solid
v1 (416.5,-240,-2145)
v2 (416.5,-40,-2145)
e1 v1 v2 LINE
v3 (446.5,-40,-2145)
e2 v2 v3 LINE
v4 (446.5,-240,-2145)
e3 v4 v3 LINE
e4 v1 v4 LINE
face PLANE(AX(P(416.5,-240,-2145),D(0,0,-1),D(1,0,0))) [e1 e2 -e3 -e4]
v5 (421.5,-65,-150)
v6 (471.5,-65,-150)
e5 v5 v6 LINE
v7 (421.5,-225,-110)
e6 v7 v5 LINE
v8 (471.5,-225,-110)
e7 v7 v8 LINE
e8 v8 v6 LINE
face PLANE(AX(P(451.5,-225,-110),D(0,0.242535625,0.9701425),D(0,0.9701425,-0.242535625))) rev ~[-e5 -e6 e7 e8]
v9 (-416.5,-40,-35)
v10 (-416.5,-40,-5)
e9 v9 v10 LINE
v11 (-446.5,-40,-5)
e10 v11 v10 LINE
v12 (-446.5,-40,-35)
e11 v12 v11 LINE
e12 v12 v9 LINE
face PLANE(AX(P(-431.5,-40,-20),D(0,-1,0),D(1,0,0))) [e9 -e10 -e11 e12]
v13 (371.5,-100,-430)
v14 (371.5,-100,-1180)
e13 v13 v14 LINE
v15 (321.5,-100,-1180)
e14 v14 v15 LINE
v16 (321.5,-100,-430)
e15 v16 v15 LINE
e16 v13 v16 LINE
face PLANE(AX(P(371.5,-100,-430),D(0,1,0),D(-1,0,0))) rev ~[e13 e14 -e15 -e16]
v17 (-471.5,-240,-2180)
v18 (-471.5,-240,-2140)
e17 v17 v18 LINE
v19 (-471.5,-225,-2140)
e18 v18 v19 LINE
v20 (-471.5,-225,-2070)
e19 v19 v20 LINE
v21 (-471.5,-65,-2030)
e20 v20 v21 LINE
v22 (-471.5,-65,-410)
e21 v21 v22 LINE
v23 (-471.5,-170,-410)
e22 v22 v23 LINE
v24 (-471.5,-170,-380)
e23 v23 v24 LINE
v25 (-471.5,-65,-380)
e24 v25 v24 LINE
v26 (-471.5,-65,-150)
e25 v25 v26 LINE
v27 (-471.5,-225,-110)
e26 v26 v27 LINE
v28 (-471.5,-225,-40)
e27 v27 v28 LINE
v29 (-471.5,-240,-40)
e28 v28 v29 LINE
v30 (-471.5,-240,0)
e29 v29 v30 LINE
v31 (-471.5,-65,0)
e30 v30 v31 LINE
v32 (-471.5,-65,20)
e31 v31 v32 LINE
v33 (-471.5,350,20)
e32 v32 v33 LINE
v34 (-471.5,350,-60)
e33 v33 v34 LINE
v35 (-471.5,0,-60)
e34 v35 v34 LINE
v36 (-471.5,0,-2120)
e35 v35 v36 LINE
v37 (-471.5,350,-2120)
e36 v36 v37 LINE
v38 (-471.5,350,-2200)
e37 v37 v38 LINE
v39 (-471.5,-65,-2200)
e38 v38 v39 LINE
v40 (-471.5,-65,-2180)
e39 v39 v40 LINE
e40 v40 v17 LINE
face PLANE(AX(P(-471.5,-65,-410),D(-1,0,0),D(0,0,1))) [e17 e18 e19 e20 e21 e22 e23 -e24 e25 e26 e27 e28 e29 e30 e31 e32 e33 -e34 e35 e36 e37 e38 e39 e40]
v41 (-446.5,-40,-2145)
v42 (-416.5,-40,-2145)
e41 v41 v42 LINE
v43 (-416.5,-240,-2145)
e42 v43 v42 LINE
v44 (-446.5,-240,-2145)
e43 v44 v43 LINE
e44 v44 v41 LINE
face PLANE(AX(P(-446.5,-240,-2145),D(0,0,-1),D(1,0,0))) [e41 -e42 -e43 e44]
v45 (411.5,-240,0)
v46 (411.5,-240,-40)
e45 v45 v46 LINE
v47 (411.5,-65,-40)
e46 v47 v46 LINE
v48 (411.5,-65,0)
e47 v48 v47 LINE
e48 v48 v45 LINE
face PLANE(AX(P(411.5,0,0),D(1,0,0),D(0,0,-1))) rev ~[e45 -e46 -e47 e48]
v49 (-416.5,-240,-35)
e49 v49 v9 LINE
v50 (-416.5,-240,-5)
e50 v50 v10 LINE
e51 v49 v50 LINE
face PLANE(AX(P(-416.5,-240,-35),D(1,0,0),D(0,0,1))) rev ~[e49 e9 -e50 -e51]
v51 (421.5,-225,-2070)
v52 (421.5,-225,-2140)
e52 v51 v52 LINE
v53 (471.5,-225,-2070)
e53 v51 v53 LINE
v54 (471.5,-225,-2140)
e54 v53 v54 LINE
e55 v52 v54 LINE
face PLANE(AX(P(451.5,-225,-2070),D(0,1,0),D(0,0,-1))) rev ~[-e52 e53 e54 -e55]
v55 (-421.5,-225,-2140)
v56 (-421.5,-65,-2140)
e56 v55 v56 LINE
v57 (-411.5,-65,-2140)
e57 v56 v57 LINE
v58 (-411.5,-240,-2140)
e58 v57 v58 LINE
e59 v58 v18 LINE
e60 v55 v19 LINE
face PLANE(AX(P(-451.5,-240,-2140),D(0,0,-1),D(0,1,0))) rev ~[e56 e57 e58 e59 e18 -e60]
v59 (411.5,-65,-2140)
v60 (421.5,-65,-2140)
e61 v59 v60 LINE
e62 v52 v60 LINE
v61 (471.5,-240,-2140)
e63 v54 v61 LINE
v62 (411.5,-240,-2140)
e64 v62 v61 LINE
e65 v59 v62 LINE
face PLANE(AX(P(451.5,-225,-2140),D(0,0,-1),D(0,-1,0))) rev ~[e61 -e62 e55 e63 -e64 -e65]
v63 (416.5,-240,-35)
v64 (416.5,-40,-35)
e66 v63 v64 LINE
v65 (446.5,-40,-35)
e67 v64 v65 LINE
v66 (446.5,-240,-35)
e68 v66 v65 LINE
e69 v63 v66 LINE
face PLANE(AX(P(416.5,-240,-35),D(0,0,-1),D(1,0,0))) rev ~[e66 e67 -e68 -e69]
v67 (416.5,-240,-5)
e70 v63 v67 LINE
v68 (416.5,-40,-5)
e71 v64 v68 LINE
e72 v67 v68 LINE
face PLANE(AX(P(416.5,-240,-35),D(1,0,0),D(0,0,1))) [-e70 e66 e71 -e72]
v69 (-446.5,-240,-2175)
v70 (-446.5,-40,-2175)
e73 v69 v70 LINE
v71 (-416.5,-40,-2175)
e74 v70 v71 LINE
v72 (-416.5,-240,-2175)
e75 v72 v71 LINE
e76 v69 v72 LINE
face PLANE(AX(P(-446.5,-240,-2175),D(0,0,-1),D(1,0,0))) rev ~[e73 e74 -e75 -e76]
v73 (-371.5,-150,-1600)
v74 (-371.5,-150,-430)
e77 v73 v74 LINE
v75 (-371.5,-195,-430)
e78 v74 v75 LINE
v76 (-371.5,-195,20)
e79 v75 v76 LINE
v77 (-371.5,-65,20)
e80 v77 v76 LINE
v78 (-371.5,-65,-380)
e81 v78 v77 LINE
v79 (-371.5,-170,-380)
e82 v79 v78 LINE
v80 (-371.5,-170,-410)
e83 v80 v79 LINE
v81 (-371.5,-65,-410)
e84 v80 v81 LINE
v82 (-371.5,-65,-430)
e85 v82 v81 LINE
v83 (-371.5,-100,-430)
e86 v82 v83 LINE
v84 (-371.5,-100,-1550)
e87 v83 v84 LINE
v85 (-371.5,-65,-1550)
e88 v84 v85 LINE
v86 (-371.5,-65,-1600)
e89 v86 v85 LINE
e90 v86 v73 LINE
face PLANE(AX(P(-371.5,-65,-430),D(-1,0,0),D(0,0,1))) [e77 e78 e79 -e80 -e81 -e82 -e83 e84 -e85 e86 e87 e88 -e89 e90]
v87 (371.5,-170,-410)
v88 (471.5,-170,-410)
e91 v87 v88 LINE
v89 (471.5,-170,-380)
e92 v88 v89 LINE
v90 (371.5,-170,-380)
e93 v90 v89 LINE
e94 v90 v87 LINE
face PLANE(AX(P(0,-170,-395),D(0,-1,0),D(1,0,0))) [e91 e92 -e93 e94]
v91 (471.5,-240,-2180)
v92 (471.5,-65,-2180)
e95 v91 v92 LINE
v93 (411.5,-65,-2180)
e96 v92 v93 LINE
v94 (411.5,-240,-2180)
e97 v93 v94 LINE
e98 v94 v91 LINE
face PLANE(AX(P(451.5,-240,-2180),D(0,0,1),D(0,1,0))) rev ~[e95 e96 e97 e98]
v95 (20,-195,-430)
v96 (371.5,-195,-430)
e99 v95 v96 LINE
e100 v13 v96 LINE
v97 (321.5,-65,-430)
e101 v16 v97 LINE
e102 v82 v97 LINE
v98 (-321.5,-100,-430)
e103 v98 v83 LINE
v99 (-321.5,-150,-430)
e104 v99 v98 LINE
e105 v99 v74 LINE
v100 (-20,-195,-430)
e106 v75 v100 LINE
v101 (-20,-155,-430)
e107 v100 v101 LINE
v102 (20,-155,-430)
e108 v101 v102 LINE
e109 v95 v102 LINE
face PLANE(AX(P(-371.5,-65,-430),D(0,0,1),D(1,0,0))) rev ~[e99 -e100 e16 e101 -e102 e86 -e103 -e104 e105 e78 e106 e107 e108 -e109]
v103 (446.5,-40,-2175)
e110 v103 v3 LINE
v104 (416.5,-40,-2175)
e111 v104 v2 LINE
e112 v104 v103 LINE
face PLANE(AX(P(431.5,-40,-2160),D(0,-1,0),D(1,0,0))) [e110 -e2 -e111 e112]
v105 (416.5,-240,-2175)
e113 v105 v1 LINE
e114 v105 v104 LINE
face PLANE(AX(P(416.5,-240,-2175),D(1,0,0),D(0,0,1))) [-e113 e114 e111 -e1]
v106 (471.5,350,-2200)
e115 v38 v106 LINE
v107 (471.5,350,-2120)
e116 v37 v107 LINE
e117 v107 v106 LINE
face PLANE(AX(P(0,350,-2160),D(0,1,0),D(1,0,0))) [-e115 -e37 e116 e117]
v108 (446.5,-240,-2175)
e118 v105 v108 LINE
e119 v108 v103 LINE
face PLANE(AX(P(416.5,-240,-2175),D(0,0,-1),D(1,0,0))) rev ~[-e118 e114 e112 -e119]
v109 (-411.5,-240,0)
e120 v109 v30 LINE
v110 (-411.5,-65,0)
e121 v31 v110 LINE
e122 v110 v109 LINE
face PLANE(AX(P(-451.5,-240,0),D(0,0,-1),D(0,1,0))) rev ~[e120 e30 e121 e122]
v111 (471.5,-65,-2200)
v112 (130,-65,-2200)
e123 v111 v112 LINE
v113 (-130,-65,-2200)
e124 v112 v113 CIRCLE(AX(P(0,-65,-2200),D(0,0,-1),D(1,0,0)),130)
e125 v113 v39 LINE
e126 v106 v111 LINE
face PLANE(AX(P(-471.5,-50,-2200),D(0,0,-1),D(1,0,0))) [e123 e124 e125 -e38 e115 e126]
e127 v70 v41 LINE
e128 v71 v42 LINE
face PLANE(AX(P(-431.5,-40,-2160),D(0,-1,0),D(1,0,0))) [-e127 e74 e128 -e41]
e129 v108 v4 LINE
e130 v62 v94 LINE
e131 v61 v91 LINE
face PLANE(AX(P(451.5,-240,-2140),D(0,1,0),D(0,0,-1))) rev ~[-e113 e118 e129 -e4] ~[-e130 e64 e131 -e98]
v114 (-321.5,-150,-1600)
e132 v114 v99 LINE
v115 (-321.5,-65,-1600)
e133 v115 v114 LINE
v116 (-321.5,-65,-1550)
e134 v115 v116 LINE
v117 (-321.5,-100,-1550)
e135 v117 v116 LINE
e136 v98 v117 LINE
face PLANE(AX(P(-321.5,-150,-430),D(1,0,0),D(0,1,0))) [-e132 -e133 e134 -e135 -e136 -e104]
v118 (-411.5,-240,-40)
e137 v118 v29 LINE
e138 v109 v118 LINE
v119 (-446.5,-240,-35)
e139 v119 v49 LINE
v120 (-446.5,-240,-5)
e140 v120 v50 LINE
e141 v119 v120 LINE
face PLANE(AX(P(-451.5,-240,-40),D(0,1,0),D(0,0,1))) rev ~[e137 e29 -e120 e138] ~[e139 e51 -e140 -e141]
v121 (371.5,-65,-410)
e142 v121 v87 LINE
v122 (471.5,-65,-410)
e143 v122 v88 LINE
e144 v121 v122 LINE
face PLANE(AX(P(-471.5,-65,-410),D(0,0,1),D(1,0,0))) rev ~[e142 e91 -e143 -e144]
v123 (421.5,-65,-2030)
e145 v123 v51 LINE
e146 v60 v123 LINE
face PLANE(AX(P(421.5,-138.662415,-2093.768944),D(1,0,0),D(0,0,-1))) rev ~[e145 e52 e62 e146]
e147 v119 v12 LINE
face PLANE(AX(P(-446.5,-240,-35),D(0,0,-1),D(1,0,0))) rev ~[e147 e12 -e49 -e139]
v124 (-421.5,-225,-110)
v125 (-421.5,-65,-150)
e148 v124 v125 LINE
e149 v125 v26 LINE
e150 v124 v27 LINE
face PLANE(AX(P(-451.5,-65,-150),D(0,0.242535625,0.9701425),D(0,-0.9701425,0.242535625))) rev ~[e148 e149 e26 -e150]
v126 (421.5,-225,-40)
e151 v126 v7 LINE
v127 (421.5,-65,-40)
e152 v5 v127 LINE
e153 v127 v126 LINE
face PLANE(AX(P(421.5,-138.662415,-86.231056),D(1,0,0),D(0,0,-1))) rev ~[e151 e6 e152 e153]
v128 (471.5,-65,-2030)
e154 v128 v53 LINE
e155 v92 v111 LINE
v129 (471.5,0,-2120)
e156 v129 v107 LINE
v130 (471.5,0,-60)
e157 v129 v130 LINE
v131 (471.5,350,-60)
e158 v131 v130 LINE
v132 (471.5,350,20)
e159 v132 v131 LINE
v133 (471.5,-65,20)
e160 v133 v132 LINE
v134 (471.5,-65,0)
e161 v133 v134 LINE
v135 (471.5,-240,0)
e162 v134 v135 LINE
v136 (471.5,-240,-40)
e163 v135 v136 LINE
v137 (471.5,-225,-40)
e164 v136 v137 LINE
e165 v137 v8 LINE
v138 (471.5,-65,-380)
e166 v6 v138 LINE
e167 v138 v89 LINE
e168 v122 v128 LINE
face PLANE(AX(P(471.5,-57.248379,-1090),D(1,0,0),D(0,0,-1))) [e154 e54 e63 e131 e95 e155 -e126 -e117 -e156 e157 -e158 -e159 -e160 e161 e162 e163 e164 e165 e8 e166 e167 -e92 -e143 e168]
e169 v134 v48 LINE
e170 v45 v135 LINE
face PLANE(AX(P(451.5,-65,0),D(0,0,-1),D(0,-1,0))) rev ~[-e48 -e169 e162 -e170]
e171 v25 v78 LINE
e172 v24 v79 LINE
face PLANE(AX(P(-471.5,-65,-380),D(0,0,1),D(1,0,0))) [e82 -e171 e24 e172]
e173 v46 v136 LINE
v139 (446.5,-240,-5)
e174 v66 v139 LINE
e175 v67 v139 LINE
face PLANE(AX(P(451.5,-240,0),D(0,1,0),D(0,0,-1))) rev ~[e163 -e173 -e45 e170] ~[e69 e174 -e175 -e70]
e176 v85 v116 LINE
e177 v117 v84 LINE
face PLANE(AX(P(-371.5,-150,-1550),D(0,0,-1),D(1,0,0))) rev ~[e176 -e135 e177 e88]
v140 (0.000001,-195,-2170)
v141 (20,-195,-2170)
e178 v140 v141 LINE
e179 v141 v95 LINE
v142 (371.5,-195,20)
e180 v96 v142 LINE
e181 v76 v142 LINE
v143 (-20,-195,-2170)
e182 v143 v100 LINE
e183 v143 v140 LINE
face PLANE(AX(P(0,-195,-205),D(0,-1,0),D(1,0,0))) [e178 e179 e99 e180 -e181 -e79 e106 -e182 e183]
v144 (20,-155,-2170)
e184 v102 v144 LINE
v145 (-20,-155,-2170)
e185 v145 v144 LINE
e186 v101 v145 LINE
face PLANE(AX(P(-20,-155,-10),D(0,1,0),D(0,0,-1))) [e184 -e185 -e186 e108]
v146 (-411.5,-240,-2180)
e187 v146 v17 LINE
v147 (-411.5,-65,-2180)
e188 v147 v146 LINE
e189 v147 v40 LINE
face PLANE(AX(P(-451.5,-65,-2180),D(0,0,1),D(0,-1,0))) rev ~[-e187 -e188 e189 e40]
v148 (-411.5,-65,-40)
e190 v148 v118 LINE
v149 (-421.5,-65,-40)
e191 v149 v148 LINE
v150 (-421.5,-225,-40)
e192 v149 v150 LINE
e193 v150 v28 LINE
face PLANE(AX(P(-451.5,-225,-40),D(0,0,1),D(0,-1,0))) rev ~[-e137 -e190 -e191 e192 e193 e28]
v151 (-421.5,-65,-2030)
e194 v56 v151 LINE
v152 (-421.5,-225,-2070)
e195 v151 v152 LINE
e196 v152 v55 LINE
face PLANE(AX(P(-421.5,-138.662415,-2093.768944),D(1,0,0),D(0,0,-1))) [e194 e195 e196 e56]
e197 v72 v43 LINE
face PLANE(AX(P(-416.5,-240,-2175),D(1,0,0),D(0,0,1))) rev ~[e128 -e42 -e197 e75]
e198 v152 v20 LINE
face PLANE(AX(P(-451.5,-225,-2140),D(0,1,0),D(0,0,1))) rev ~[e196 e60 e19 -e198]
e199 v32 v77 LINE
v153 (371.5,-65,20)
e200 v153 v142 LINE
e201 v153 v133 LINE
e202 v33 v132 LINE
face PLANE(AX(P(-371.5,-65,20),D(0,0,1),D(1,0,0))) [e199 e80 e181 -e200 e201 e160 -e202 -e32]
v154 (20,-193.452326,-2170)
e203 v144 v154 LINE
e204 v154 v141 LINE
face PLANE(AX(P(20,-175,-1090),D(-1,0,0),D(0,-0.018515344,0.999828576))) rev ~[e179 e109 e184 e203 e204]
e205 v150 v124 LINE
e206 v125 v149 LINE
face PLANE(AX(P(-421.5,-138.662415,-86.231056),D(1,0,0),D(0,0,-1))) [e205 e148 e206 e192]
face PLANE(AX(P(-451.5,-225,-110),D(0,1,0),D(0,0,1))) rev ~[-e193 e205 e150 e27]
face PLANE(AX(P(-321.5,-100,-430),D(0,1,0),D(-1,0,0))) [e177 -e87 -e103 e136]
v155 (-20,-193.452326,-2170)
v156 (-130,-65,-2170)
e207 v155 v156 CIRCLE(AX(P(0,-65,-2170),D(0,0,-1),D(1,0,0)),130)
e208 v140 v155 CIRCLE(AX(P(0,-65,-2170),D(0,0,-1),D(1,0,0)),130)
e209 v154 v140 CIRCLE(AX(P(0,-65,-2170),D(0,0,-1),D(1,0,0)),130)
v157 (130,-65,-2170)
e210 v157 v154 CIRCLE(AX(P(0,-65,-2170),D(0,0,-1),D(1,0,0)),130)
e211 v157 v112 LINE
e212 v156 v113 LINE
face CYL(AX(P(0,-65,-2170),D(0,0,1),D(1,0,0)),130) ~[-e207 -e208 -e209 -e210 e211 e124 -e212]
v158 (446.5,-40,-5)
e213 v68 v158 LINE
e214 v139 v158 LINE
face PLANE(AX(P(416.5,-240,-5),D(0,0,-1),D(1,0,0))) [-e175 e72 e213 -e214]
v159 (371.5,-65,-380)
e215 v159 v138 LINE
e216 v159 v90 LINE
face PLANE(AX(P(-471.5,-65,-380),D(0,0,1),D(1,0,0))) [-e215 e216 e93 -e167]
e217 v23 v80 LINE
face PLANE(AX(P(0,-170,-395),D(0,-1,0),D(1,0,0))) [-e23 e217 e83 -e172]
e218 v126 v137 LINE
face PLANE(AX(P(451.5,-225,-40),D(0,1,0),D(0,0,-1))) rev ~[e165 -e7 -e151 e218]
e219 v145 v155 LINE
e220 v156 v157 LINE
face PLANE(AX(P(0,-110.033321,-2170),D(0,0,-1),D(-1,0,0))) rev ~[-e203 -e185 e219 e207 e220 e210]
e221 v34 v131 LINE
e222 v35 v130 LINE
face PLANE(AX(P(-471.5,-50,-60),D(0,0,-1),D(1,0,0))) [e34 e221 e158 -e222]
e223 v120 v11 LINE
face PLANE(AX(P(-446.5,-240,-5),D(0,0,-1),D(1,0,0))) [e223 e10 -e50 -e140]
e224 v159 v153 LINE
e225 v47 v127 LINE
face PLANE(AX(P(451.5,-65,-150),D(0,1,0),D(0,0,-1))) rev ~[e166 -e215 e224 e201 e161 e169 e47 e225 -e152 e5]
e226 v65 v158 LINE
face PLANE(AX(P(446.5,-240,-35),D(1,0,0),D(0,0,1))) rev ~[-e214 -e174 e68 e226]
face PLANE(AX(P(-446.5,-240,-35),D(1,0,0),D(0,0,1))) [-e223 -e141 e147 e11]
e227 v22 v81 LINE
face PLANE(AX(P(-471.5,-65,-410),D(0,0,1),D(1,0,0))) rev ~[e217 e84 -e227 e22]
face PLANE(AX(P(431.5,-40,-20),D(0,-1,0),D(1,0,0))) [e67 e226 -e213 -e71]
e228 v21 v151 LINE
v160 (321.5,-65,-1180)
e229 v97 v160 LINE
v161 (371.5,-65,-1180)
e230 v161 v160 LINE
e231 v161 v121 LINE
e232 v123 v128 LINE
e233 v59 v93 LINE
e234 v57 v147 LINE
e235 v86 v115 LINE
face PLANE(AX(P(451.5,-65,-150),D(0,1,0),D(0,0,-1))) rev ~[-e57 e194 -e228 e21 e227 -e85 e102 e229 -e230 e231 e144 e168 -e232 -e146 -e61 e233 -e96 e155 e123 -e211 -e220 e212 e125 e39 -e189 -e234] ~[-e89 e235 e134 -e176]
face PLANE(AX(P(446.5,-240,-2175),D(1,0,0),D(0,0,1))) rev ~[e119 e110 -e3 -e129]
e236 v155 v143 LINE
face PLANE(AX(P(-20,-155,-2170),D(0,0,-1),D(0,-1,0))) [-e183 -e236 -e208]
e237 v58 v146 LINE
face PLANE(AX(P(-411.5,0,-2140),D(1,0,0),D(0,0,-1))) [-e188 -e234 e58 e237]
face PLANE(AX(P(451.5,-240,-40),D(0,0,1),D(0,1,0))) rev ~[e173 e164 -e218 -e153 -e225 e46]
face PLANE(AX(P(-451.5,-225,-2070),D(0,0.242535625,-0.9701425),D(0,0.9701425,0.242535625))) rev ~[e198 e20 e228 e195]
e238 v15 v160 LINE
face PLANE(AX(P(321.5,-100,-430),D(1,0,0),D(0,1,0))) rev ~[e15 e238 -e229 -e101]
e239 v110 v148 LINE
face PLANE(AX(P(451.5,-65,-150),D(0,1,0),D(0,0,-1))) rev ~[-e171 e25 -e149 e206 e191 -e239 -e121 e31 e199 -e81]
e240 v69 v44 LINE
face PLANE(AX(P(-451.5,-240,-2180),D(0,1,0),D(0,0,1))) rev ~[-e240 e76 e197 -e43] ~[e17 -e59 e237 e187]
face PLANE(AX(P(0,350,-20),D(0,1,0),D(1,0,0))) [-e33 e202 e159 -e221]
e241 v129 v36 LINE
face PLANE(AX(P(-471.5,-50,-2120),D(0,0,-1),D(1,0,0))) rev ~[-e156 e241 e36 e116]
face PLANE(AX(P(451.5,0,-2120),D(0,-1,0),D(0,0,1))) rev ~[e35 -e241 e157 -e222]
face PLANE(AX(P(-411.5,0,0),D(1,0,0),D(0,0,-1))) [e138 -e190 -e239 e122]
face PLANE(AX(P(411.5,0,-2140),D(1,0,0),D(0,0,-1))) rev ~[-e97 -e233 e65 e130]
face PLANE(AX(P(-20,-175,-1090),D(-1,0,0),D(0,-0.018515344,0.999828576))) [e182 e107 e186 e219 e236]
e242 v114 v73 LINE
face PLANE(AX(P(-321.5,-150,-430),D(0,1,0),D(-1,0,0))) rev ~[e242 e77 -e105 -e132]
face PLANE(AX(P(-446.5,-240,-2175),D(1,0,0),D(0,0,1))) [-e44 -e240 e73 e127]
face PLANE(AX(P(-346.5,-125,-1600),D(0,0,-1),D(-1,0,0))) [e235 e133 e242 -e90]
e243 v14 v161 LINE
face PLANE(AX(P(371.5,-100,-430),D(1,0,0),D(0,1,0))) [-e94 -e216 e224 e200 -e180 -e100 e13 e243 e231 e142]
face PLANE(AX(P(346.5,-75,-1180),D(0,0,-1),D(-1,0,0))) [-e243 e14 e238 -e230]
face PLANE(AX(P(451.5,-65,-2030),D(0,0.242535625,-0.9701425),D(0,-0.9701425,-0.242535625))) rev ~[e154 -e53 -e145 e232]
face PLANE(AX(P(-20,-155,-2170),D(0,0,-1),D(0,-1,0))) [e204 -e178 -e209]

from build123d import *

# Parameters (mm, degrees)
SKETCH1_W                = 40
SKETCH1_H                = 40
SKETCH1_H_2              = 10
SKETCH1_W_2              = 903
SKETCH1_H_3              = 2060
BOSS_EXTRUDE1_DEPTH      = 65
BOSS_EXTRUDE2_DEPTH      = 350
BOSS_EXTRUDE2_DEPTH_BACK = 50
SKETCH1_3_W              = 943
SKETCH1_3_H              = 80
SKETCH1_4_W              = 40
SKETCH1_4_H              = 40
BOSS_EXTRUDE3_DEPTH      = 240
BOSS_EXTRUDE4_DEPTH      = 30
BOSS_EXTRUDE5_DEPTH      = 30
SKETCH5_W                = 30
SKETCH5_H                = 30
CUT_EXTRUDE1_DEPTH       = 200
BOSS_EXTRUDE6_DEPTH      = 30
BOSS_EXTRUDE7_START      = -30
BOSS_EXTRUDE7_DEPTH      = 30
BOSS_EXTRUDE8_DEPTH      = 20
BOSS_EXTRUDE8_DEPTH_BACK = 20
SKETCH8_W                = 743
SKETCH8_H                = 450
BOSS_EXTRUDE9_DEPTH      = 130
SKETCH9_W                = 50
SKETCH9_H                = 50
BOSS_EXTRUDE11_DEPTH     = 750
SKETCH9_3_W              = 50
SKETCH9_3_H              = 50
BOSS_EXTRUDE12_DEPTH     = 1170
SKETCH10_W               = 50
SKETCH10_H               = 50
BOSS_EXTRUDE13_DEPTH     = 85
BOSS_EXTRUDE14_DEPTH     = 20
BOSS_EXTRUDE15_DEPTH     = 20
SKETCH14_W               = 943
SKETCH14_H               = 30
BOSS_EXTRUDE16_DEPTH     = 105


with BuildPart() as part:
    # Sketch1 → Boss-Extrude1 (new body)
    with BuildSketch(Plane(origin=(0, 0, 0), x_dir=(1, 0, 0), z_dir=(0, 1, 0))):
        with Locations((-431.5, 20)):
            Rectangle(SKETCH1_W, SKETCH1_H)
        Polygon((-411.5, 50), (-411.5, 40), (-411.5, 0), (411.5, 0), (411.5, 40), (411.5, 50), align=None)
        with Locations((-431.5, 45)):
            Rectangle(SKETCH1_W, SKETCH1_H_2)
        Polygon((-451.5, 0), (-451.5, 40), (-451.5, 50), (-451.5, 60), (-471.5, 60), (-471.5, -20), (471.5, -20), (471.5, 60), (451.5, 60), (451.5, 50), (451.5, 40), (451.5, 0), (411.5, 0), (-411.5, 0), align=None)
        Polygon((-451.5, 50), (-411.5, 50), (411.5, 50), (451.5, 50), (451.5, 60), (-451.5, 60), align=None)
        with Locations((431.5, 20)):
            Rectangle(SKETCH1_W, SKETCH1_H)
        with Locations((431.5, 45)):
            Rectangle(SKETCH1_W, SKETCH1_H_2)
        with Locations((0, 1090)):
            Rectangle(SKETCH1_W_2, SKETCH1_H_3)
        Polygon((-471.5, 2120), (-451.5, 2120), (-451.5, 2130), (-451.5, 2140), (-451.5, 2180), (-411.5, 2180), (411.5, 2180), (451.5, 2180), (451.5, 2140), (451.5, 2130), (451.5, 2120), (471.5, 2120), (471.5, 2200), (-471.5, 2200), align=None)
        Polygon((-451.5, 2130), (-451.5, 2120), (451.5, 2120), (451.5, 2130), (411.5, 2130), (-411.5, 2130), align=None)
        with Locations((-431.5, 2135)):
            Rectangle(SKETCH1_W, SKETCH1_H_2)
        with Locations((-431.5, 2160)):
            Rectangle(SKETCH1_W, SKETCH1_H)
        Polygon((-411.5, 2140), (-411.5, 2130), (411.5, 2130), (411.5, 2140), (411.5, 2180), (-411.5, 2180), align=None)
        with Locations((431.5, 2135)):
            Rectangle(SKETCH1_W, SKETCH1_H_2)
        with Locations((431.5, 2160)):
            Rectangle(SKETCH1_W, SKETCH1_H)
    extrude(amount=-BOSS_EXTRUDE1_DEPTH)

    # Sketch1<3> → Boss-Extrude2 (add, two sides: drawn at the far end of the back side and taken through both)
    with BuildSketch(Plane(origin=(0, 0, 0), x_dir=(1, 0, 0), z_dir=(0, 1, 0)).offset(-BOSS_EXTRUDE2_DEPTH_BACK)):
        with Locations((0, 2160)):
            Rectangle(SKETCH1_3_W, SKETCH1_3_H)
        with Locations((0, 20)):
            Rectangle(SKETCH1_3_W, SKETCH1_3_H)
    extrude(amount=BOSS_EXTRUDE2_DEPTH + BOSS_EXTRUDE2_DEPTH_BACK)

    # Sketch1<4> → Boss-Extrude3 (add)
    with BuildSketch(Plane(origin=(0, 0, 0), x_dir=(1, 0, 0), z_dir=(0, 1, 0))):
        with Locations((431.5, 2160)):
            Rectangle(SKETCH1_4_W, SKETCH1_4_H)
        with Locations((-431.5, 2160)):
            Rectangle(SKETCH1_4_W, SKETCH1_4_H)
        with Locations((-431.5, 20)):
            Rectangle(SKETCH1_4_W, SKETCH1_4_H)
        with Locations((431.5, 20)):
            Rectangle(SKETCH1_4_W, SKETCH1_4_H)
    extrude(amount=-BOSS_EXTRUDE3_DEPTH)

    # Sketch3 → Boss-Extrude4 (add)
    with BuildSketch(Plane(origin=(451.5, 0, 0), x_dir=(0, 0, -1), z_dir=(1, 0, 0))):
        Polygon((40, -65), (40, -225), (110, -225), (150, -65), align=None)
        Polygon((2140, -65), (2030, -65), (2070, -225), (2140, -225), align=None)
    extrude(amount=-BOSS_EXTRUDE4_DEPTH)

    # Sketch4 → Boss-Extrude5 (add)
    with BuildSketch(Plane(origin=(-451.5, 0, -45.75), x_dir=(0, 0, -1), z_dir=(1, 0, 0))):
        Polygon((2024.25, -225), (2094.25, -225), (2094.25, -65), (1984.25, -65), align=None)
        Polygon((64.25, -225), (104.25, -65), (-5.75, -65), (-5.75, -225), align=None)
    extrude(amount=BOSS_EXTRUDE5_DEPTH)

    # Sketch5 → Cut-Extrude1 (cut)
    with BuildSketch(Plane.XZ.offset(240)):
        with Locations((-431.5, -2160)):
            Rectangle(SKETCH5_W, SKETCH5_H)
        with Locations((431.5, -2160)):
            Rectangle(SKETCH5_W, SKETCH5_H)
        with Locations((431.5, -20)):
            Rectangle(SKETCH5_W, SKETCH5_H)
        with Locations((-431.5, -20)):
            Rectangle(SKETCH5_W, SKETCH5_H)
    extrude(amount=-CUT_EXTRUDE1_DEPTH, mode=Mode.SUBTRACT)

    # Sketch6 → Boss-Extrude6 (add)
    with BuildSketch(Plane.XY.offset(20)):
        with BuildLine():
            Line((130, -65), (-130, -65))
            ThreePointArc((-130, -65), (0, -195), (130, -65))
        make_face()
    extrude(amount=-BOSS_EXTRUDE6_DEPTH)

    # Sketch7 → Boss-Extrude7 (add)
    with BuildSketch(Plane(origin=(0, 0, -2200), x_dir=(-1, 0, 0), z_dir=(0, 0, -1)).offset(BOSS_EXTRUDE7_START)):
        with BuildLine():
            Line((130, -65), (-130, -65))
            ThreePointArc((-130, -65), (0, -195), (130, -65))
        make_face()
    extrude(amount=BOSS_EXTRUDE7_DEPTH)

    # 3DSketch1 → Boss-Extrude8 (add, two sides: drawn at the far end of the back side and taken through both)
    with BuildSketch(Plane(origin=(0, -195, -10), x_dir=(0, 0.018515344006020947, -0.9998285763251313), z_dir=(1, 0, 0)).offset(-BOSS_EXTRUDE8_DEPTH_BACK)):
        Polygon((0, 0), (0.74061376, 39.993143053), (2160.370338623, 0), (2159.629724862, -39.993143053), align=None)
    extrude(amount=BOSS_EXTRUDE8_DEPTH + BOSS_EXTRUDE8_DEPTH_BACK)

    # Sketch8 → Boss-Extrude9 (add)
    with BuildSketch(Plane.XZ.offset(65)):
        with Locations((0, -205)):
            Rectangle(SKETCH8_W, SKETCH8_H)
    extrude(amount=BOSS_EXTRUDE9_DEPTH)

    # Sketch9 → Boss-Extrude11 (add)
    with BuildSketch(Plane(origin=(0, 0, -430), x_dir=(-1, 0, 0), z_dir=(0, 0, -1))):
        with Locations((-346.5, -75)):
            Rectangle(SKETCH9_W, SKETCH9_H)
    extrude(amount=BOSS_EXTRUDE11_DEPTH)

    # Sketch9<3> → Boss-Extrude12 (add)
    with BuildSketch(Plane(origin=(0, 0, -430), x_dir=(-1, 0, 0), z_dir=(0, 0, -1))):
        with Locations((346.5, -125)):
            Rectangle(SKETCH9_3_W, SKETCH9_3_H)
    extrude(amount=BOSS_EXTRUDE12_DEPTH)

    # Sketch10 → Boss-Extrude13 (add)
    with BuildSketch(Plane.XZ.offset(150)):
        with Locations((-346.5, -1575)):
            Rectangle(SKETCH10_W, SKETCH10_H)
    extrude(amount=-BOSS_EXTRUDE13_DEPTH)

    # Sketch12 → Boss-Extrude14 (add)
    with BuildSketch(Plane.ZY.offset(451.5)):
        Polygon((-60, 0), (-2120, 0), (-2120, -65), (-2180, -65), (-2180, -240), (-2140, -240), (-2140, -225), (-2070, -225), (-2030, -65), (-150, -65), (-110, -225), (-40, -225), (-40, -240), (0, -240), (0, -65), (-60, -65), align=None)
    extrude(amount=BOSS_EXTRUDE14_DEPTH)

    # Sketch13 → Boss-Extrude15 (add)
    with BuildSketch(Plane(origin=(451.5, 0, 0), x_dir=(0, 0, -1), z_dir=(1, 0, 0))):
        Polygon((2120, 0), (60, 0), (60, -65), (0, -65), (0, -240), (40, -240), (40, -225), (110, -225), (150, -65), (2030, -65), (2070, -225), (2140, -225), (2140, -240), (2180, -240), (2180, -65), (2120, -65), align=None)
    extrude(amount=BOSS_EXTRUDE15_DEPTH)

    # Sketch14 → Boss-Extrude16 (add)
    with BuildSketch(Plane.XZ.offset(65)):
        with Locations((0, -395)):
            Rectangle(SKETCH14_W, SKETCH14_H)
    extrude(amount=BOSS_EXTRUDE16_DEPTH)


solid = part.part
